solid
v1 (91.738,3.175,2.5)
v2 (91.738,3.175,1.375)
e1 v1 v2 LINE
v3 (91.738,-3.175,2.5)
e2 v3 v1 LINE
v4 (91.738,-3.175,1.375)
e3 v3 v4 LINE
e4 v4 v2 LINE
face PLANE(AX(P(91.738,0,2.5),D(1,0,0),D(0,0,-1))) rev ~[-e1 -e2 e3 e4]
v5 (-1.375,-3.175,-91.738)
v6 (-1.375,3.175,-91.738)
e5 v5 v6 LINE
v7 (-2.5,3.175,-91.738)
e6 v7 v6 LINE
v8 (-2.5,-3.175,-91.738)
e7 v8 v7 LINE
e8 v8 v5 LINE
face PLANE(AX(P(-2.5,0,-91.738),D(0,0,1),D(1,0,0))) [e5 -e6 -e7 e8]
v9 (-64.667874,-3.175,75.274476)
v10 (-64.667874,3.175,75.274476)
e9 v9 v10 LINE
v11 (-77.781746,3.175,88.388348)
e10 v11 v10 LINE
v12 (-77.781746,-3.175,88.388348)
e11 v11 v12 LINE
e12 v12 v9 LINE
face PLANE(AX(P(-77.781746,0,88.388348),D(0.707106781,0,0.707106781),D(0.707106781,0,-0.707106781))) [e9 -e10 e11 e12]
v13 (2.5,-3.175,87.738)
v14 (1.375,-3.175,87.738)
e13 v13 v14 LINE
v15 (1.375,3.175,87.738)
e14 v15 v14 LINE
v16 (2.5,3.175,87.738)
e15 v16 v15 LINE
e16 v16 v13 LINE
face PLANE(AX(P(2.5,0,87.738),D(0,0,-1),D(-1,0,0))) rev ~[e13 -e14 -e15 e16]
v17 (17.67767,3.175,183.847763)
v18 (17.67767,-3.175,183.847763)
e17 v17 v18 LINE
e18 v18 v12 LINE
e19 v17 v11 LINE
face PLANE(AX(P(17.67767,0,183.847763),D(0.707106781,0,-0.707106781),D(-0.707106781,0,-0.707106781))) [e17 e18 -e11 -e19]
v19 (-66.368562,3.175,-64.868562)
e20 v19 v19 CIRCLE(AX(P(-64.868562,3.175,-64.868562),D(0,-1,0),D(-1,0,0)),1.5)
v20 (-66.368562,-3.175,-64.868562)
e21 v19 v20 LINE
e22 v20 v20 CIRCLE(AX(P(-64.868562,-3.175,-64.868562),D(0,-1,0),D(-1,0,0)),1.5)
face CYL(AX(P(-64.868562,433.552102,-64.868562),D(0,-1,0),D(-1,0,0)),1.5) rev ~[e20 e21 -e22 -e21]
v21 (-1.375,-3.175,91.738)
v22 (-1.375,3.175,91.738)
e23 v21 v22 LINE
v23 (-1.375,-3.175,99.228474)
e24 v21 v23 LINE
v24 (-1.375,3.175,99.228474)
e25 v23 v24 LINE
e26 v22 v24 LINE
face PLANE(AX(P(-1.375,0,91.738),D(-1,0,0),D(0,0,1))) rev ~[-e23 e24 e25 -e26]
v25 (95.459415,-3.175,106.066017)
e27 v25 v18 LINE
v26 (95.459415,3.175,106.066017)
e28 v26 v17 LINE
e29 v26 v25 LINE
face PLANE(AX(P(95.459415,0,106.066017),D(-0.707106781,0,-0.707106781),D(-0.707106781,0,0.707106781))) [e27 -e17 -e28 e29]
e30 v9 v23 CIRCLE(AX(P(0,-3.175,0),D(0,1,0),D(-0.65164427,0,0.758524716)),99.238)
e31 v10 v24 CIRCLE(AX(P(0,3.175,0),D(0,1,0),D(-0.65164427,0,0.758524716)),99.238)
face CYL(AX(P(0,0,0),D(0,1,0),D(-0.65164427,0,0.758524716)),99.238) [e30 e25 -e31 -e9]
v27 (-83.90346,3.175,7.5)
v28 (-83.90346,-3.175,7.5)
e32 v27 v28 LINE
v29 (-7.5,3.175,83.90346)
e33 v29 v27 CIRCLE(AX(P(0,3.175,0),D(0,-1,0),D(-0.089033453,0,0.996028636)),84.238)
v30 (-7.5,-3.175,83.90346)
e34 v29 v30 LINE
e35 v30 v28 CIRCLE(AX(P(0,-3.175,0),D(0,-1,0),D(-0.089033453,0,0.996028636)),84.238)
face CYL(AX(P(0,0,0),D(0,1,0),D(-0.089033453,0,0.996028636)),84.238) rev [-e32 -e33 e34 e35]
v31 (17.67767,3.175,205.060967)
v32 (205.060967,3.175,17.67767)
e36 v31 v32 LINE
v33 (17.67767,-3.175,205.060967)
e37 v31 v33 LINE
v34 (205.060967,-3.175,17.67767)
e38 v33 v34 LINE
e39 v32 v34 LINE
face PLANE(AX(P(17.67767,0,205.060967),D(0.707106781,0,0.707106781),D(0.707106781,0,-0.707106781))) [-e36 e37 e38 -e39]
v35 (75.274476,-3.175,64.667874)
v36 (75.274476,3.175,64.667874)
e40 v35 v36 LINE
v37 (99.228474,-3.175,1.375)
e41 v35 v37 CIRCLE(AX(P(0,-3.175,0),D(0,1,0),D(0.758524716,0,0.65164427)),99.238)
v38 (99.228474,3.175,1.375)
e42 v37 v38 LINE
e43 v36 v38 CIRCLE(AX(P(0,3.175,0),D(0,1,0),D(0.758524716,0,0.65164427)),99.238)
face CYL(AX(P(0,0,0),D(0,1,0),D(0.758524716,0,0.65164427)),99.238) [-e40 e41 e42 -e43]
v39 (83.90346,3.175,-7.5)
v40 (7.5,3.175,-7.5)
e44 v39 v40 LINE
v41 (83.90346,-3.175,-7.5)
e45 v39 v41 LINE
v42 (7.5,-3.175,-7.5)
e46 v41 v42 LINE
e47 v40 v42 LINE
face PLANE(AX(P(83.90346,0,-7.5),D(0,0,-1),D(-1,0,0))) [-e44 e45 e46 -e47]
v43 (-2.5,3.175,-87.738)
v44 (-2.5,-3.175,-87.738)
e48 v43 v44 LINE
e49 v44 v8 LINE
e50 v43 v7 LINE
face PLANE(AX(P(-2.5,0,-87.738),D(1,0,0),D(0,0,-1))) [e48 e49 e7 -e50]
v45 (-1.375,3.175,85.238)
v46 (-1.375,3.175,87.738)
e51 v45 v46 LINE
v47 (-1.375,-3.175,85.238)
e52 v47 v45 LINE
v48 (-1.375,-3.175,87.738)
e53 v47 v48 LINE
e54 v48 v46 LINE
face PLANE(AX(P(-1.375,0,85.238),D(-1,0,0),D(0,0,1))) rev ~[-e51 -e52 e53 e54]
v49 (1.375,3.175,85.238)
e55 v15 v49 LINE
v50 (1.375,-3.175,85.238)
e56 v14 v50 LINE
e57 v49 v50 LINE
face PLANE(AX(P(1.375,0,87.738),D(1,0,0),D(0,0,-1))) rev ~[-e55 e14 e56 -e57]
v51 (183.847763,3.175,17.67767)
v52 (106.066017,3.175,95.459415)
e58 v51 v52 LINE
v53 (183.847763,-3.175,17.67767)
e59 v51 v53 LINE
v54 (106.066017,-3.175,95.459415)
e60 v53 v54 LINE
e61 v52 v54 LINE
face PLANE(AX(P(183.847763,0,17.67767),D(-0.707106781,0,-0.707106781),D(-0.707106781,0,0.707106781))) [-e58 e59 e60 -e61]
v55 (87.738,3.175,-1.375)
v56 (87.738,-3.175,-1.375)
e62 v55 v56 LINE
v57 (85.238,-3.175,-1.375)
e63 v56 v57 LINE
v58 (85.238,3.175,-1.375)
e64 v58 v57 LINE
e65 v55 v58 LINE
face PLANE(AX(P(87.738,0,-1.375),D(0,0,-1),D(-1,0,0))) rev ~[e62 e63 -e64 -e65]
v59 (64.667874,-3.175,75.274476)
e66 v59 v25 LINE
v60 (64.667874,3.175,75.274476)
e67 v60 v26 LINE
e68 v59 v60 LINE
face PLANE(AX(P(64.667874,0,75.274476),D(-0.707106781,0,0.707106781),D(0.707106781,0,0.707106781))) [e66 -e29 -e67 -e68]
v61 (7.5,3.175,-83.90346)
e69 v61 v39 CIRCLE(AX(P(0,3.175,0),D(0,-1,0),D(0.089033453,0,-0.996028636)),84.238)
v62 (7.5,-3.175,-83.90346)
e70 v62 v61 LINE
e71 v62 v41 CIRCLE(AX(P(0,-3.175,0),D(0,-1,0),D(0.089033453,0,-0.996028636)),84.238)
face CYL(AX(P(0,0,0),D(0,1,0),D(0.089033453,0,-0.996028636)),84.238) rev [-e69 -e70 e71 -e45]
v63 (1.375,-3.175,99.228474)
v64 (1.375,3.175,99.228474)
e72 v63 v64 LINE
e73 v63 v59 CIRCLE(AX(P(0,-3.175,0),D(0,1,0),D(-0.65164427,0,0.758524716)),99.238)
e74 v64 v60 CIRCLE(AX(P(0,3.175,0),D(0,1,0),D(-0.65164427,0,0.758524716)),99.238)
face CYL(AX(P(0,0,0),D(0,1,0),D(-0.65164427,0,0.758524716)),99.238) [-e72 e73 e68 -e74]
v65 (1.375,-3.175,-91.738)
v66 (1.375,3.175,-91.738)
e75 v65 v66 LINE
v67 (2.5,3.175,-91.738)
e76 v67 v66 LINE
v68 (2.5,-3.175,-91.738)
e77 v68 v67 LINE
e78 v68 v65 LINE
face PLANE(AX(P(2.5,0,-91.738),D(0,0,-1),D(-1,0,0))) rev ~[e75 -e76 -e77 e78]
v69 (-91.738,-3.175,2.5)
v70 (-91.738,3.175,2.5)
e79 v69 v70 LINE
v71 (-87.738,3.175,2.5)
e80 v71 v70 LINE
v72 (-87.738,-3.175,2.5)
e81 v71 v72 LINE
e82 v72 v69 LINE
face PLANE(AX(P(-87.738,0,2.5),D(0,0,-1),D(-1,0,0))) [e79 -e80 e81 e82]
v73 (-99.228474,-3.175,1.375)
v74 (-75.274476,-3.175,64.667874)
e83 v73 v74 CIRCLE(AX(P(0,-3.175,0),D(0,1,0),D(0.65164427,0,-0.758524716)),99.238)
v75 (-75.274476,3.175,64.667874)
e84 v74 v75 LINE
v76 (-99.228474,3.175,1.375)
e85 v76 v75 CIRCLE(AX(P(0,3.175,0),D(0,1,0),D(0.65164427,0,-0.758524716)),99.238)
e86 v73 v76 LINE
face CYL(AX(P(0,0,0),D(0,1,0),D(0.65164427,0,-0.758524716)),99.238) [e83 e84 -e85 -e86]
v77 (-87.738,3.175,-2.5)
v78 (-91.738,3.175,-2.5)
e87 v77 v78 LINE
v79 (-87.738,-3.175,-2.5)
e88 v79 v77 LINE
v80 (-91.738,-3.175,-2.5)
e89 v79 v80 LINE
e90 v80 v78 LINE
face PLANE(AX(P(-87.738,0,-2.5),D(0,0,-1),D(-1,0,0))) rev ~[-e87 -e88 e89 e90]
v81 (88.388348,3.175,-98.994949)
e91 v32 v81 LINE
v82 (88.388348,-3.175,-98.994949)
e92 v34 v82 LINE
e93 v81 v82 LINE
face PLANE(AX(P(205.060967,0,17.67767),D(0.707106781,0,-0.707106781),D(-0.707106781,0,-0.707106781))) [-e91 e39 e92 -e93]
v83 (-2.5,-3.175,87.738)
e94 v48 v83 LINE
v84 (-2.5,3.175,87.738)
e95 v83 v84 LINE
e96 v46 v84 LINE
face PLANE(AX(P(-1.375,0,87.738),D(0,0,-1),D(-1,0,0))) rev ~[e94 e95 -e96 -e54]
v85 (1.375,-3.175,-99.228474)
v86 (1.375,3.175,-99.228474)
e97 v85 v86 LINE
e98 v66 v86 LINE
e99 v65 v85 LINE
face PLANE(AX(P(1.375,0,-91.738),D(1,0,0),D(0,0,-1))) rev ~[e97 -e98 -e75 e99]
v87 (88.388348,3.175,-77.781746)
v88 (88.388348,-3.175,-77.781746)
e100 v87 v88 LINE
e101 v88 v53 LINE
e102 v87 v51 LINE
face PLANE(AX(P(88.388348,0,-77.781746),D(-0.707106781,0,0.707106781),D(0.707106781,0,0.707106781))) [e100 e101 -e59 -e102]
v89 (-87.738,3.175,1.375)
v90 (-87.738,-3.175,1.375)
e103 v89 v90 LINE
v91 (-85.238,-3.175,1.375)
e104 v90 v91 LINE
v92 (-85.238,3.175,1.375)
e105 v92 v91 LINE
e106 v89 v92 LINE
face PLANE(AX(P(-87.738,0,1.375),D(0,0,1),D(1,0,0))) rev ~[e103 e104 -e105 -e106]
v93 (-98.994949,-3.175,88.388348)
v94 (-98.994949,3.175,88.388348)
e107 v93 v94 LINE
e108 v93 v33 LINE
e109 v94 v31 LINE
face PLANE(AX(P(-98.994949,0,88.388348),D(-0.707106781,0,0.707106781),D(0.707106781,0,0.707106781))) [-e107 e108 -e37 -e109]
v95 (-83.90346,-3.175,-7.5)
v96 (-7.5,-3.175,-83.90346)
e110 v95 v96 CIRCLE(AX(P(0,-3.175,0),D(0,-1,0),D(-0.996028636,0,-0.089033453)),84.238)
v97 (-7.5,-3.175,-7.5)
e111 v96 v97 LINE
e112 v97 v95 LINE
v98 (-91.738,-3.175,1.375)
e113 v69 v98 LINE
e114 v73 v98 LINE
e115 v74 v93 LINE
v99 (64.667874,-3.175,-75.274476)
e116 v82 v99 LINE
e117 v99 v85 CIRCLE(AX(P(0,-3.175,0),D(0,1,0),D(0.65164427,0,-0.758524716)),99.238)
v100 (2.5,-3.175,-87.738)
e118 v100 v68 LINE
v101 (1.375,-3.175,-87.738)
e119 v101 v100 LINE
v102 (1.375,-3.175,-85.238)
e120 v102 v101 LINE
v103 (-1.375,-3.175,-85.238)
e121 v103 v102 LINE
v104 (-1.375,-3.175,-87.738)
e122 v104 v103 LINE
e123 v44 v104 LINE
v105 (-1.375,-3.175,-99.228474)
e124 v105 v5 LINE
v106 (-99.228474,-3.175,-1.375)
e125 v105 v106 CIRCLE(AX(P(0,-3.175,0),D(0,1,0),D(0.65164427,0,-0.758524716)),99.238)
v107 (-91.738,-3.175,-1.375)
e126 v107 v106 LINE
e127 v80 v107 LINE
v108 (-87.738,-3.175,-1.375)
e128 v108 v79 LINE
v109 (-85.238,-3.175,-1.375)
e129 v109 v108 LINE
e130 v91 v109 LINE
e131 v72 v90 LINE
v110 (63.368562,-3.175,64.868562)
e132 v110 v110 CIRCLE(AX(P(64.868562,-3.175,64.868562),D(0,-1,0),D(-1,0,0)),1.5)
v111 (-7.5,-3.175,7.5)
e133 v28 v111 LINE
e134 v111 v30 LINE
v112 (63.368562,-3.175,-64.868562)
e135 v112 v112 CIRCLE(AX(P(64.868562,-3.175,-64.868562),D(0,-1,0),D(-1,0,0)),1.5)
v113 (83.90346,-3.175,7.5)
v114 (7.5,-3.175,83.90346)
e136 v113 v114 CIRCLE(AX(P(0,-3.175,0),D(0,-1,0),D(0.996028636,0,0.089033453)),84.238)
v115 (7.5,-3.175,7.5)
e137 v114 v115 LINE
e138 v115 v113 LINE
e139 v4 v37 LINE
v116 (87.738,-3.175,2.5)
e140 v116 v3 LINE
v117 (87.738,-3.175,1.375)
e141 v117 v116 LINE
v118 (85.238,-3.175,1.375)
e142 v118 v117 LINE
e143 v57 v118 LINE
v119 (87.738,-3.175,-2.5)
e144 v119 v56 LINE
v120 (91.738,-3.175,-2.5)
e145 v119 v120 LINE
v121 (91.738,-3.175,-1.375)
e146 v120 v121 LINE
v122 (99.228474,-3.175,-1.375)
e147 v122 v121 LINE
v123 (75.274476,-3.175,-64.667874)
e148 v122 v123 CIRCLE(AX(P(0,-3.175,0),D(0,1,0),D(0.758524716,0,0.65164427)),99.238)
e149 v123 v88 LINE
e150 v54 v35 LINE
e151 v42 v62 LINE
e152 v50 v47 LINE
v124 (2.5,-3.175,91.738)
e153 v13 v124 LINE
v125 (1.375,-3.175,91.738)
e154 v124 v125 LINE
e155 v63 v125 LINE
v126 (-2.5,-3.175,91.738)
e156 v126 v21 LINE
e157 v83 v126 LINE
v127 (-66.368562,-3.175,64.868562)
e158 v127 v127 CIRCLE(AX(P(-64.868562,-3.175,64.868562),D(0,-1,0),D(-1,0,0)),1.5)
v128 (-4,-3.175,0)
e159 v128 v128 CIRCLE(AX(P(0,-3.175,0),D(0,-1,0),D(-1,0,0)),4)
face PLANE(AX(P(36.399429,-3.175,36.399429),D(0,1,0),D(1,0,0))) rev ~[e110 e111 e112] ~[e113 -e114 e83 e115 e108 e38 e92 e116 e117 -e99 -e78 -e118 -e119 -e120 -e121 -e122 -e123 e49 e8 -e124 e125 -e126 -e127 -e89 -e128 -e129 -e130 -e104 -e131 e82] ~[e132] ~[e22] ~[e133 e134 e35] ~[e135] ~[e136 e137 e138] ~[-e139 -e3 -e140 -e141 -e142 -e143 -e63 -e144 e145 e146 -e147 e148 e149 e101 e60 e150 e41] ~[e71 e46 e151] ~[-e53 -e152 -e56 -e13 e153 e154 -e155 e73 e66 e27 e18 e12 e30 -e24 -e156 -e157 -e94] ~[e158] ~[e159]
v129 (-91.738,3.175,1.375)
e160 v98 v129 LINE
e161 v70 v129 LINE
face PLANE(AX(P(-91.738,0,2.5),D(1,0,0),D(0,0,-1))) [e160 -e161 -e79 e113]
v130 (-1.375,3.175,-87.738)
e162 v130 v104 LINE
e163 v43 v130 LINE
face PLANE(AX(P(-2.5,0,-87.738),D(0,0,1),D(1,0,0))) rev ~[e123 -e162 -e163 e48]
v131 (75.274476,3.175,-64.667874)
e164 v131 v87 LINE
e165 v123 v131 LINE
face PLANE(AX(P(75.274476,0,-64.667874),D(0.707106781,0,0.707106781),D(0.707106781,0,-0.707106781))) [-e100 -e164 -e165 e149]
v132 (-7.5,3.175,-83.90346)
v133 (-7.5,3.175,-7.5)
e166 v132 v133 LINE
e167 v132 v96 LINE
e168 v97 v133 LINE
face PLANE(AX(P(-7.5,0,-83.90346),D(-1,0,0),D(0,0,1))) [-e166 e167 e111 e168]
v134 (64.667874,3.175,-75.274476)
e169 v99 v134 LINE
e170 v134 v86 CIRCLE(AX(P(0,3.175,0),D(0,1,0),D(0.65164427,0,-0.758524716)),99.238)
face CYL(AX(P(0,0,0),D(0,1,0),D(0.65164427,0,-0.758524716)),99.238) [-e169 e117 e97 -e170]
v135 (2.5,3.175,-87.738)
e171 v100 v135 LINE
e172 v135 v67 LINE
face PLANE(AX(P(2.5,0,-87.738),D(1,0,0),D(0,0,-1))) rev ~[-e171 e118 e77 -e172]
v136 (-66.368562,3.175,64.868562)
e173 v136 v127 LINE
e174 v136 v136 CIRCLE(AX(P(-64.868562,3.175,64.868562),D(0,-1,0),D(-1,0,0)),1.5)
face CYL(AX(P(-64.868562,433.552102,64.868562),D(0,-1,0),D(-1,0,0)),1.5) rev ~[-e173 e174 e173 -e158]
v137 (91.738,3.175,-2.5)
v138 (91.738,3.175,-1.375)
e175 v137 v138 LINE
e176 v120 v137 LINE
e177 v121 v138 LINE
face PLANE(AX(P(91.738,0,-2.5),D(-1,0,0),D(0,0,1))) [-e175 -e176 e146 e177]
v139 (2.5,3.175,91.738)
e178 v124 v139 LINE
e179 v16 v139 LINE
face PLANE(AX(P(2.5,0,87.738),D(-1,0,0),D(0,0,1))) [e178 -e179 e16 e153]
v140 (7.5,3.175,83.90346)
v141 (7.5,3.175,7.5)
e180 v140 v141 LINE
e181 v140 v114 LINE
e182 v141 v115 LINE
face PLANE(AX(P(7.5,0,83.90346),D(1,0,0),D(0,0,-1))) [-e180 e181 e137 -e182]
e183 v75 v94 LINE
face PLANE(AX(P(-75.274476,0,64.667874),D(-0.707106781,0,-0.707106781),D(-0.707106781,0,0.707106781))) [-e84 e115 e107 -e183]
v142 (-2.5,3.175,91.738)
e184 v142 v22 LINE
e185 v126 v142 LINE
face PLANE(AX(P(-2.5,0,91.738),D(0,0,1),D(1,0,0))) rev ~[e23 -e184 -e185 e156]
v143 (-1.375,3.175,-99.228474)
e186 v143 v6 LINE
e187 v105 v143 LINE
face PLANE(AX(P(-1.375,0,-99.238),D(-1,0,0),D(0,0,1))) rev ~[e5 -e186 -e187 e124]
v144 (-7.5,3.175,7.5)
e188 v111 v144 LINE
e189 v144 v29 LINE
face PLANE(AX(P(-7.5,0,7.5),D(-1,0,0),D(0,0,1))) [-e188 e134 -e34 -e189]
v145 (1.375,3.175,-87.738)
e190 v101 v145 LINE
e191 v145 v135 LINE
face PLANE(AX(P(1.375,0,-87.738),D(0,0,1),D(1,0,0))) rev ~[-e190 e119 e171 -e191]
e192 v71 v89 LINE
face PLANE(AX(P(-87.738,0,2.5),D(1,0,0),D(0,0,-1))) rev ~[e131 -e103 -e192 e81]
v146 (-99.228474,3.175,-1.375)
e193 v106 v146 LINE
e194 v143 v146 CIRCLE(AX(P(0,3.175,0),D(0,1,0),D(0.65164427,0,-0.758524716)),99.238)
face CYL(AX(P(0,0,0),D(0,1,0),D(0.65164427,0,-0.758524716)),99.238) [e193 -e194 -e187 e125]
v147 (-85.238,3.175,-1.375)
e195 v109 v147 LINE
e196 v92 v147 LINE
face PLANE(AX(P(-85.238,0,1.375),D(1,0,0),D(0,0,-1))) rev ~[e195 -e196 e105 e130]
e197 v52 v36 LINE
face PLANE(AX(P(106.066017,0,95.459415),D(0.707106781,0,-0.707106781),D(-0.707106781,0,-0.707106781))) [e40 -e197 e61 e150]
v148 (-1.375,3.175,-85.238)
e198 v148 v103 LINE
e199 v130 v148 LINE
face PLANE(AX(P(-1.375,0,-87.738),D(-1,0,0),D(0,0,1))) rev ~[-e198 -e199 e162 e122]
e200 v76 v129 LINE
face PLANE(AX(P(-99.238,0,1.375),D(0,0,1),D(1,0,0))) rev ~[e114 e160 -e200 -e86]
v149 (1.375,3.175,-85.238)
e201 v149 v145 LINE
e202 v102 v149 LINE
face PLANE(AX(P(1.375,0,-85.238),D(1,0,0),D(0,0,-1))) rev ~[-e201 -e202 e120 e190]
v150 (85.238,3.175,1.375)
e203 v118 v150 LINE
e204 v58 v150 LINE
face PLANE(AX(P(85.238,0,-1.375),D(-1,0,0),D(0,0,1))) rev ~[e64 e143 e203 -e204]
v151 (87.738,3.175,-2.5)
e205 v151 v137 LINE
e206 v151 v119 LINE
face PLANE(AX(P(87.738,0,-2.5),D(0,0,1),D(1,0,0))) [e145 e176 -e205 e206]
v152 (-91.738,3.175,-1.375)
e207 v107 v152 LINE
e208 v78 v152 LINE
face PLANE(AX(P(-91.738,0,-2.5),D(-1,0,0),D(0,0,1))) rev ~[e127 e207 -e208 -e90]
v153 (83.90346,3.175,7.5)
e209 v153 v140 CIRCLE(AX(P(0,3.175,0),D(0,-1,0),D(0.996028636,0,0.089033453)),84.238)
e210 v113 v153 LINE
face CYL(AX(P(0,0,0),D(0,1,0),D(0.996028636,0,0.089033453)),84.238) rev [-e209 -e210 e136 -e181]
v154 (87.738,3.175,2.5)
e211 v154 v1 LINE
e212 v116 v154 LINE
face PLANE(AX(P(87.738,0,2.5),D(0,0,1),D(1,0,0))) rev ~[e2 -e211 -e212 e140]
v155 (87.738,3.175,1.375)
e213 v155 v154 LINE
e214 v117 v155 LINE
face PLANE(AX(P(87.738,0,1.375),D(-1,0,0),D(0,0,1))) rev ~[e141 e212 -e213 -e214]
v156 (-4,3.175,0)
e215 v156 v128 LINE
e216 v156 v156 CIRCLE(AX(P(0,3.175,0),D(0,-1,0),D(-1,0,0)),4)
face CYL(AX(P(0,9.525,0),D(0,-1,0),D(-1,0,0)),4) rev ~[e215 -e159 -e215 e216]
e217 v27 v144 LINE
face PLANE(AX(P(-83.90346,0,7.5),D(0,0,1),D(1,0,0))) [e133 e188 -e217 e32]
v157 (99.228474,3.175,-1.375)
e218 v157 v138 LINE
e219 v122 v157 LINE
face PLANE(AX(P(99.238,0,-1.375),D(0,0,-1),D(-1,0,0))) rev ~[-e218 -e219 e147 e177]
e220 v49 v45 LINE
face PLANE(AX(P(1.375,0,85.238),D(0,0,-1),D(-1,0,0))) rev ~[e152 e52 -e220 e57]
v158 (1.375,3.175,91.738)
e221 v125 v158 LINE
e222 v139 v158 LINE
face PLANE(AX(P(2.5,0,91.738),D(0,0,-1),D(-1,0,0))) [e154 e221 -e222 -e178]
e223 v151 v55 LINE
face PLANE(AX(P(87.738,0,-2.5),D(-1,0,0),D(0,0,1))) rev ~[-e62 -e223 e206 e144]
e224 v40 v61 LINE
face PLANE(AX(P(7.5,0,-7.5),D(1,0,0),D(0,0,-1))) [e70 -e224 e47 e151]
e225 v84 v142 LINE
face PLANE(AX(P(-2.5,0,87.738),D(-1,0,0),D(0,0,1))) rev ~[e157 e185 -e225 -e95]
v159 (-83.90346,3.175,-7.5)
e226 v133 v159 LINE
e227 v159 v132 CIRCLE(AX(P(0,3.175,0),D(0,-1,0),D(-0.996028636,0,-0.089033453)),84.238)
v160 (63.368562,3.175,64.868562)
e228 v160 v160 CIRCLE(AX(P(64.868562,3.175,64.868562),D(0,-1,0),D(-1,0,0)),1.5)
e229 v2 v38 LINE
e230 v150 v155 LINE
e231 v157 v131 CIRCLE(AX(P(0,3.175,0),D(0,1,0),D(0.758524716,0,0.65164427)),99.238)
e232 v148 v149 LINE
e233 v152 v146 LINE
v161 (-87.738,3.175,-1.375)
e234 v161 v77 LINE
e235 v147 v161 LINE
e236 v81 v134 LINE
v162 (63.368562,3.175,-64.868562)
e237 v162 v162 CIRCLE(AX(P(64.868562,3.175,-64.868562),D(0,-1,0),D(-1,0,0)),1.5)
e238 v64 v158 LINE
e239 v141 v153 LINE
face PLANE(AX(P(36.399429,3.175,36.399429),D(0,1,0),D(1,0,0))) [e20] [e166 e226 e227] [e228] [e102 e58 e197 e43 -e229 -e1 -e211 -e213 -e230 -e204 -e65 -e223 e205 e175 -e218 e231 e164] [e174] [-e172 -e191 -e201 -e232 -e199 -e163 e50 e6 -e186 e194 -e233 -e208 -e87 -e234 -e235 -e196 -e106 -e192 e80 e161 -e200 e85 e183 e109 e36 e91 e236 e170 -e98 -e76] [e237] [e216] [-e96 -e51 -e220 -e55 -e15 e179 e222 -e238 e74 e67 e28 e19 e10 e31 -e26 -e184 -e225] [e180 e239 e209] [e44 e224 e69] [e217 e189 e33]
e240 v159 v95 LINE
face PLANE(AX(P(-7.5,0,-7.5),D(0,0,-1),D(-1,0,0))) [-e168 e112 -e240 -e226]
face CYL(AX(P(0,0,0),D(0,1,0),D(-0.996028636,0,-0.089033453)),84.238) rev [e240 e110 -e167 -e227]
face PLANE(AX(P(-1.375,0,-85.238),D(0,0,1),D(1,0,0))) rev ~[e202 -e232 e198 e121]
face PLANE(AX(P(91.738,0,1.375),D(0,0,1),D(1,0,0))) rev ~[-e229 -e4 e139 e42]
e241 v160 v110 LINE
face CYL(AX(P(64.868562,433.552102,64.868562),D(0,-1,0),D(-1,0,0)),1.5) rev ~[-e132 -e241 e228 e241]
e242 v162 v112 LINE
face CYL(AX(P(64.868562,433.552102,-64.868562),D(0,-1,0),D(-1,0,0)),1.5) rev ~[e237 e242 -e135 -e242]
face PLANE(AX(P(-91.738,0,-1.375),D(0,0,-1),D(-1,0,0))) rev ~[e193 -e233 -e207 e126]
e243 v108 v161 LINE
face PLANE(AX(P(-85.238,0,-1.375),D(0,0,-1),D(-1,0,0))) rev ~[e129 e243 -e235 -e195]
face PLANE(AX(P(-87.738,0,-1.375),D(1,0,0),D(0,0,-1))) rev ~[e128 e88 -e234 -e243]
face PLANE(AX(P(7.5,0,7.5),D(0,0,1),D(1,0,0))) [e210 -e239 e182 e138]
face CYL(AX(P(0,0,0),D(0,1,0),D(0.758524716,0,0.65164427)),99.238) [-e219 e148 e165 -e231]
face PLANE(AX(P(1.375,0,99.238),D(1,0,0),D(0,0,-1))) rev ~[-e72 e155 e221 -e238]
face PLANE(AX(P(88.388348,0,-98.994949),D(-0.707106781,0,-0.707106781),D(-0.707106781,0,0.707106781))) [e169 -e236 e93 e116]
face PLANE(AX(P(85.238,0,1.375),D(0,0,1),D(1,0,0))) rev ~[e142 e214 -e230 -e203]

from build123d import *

# Parameters (mm, degrees)
BOSS_EXTRUDE1_DEPTH          = 3.175
SKETCH2_W                    = 2.75
SKETCH2_H                    = 2.5
SKETCH2_H_2                  = 4
SKETCH2_W_2                  = 1.125
SKETCH2_H_3                  = 7.5
CUT_EXTRUDE1_DEPTH           = 291.017379867
CIRPATTERN1_COUNT            = 4
F_3_0_3_DIAMETER_HOLE1_D     = 3
F_8_0_8_DIAMETER_HOLE1_D     = 8
F_8_0_8_DIAMETER_HOLE1_DEPTH = 6.35


with BuildPart() as part:
    # Sketch1 → Boss-Extrude1 (new, symmetric)
    with BuildSketch(Plane(origin=(0, 0, 0), x_dir=(1, 0, 0), z_dir=(0, 1, 0))):
        with BuildLine():
            Line((88.388347648, 98.994949366), (64.667874078, 75.274475795))
            ThreePointArc((64.667874078, 75.274475795), (-70.171862751, 70.171862751), (-75.274475795, -64.667874078))
            Line((-75.274475795, -64.667874078), (-98.994949366, -88.388347648))
            Line((-98.994949366, -88.388347648), (17.67766953, -205.060966544))
            Line((17.67766953, -205.060966544), (205.060966544, -17.67766953))
            Line((205.060966544, -17.67766953), (88.388347648, 98.994949366))
        make_face()
        with BuildLine():
            ThreePointArc((-64.667874078, -75.274475795), (0, -99.238), (64.667874078, -75.274475795))
            Line((64.667874078, -75.274475795), (95.45941546, -106.066017178))
            Line((95.45941546, -106.066017178), (17.67766953, -183.847763109))
            Line((17.67766953, -183.847763109), (-77.781745931, -88.388347648))
            Line((-77.781745931, -88.388347648), (-64.667874078, -75.274475795))
        make_face(mode=Mode.SUBTRACT)
        with BuildLine():
            ThreePointArc((75.274475795, -64.667874078), (99.238, 0), (75.274475795, 64.667874078))
            Line((75.274475795, 64.667874078), (88.388347648, 77.781745931))
            Line((88.388347648, 77.781745931), (183.847763109, -17.67766953))
            Line((183.847763109, -17.67766953), (106.066017178, -95.45941546))
            Line((106.066017178, -95.45941546), (75.274475795, -64.667874078))
        make_face(mode=Mode.SUBTRACT)
        with BuildLine():
            Line((-7.5, -7.5), (-7.5, -83.903460262))
            ThreePointArc((-7.5, -83.903460262), (-59.565261034, -59.565261034), (-83.903460262, -7.5))
            Line((-83.903460262, -7.5), (-7.5, -7.5))
        make_face(mode=Mode.SUBTRACT)
        with BuildLine():
            ThreePointArc((83.903460262, -7.5), (59.565261034, -59.565261034), (7.5, -83.903460262))
            Line((7.5, -83.903460262), (7.5, -7.5))
            Line((7.5, -7.5), (83.903460262, -7.5))
        make_face(mode=Mode.SUBTRACT)
        with BuildLine():
            Line((-7.5, 7.5), (-83.903460262, 7.5))
            ThreePointArc((-83.903460262, 7.5), (-59.565261034, 59.565261034), (-7.5, 83.903460262))
            Line((-7.5, 83.903460262), (-7.5, 7.5))
        make_face(mode=Mode.SUBTRACT)
        with BuildLine():
            ThreePointArc((7.5, 83.903460262), (59.565261034, 59.565261034), (83.903460262, 7.5))
            Line((83.903460262, 7.5), (7.5, 7.5))
            Line((7.5, 7.5), (7.5, 83.903460262))
        make_face(mode=Mode.SUBTRACT)
    extrude(amount=BOSS_EXTRUDE1_DEPTH, both=True)

    # Sketch2 → Cut-Extrude1 (cut, symmetric)
    with BuildSketch(Plane(origin=(0, 0, 0), x_dir=(1, 0, 0), z_dir=(0, 1, 0))):
        with Locations((0, 86.488)):
            Rectangle(SKETCH2_W, SKETCH2_H)
        with Locations((0, 89.738)):
            Rectangle(SKETCH2_W, SKETCH2_H_2)
        with Locations((1.9375, 89.738)):
            Rectangle(SKETCH2_W_2, SKETCH2_H_2)
        with Locations((0, 95.488)):
            Rectangle(SKETCH2_W, SKETCH2_H_3)
        with Locations((-1.9375, 89.738)):
            Rectangle(SKETCH2_W_2, SKETCH2_H_2)
    cut_extrude1 = extrude(amount=CUT_EXTRUDE1_DEPTH, both=True, mode=Mode.SUBTRACT)

    # CirPattern1: Cut-Extrude1 ×4 about axis
    cirpattern1_axis = Axis((0, 0, 0), (0, 1, 0))
    for i in range(1, CIRPATTERN1_COUNT):
        add(cut_extrude1.rotate(cirpattern1_axis, i * 360 / CIRPATTERN1_COUNT), mode=Mode.SUBTRACT)

    # Ø3.0 (3) Diameter Hole1 (through all)
    with Locations(Plane(origin=(0, 3.175, 0), x_dir=(1, 0, 0), z_dir=(0, 1, 0))):
        with Locations((-64.868561892, -64.868561892), (0, 0), (-64.868561892, 64.868561892), (64.868561892, 64.868561892), (64.868561892, -64.868561892)):
            Hole(F_3_0_3_DIAMETER_HOLE1_D / 2)

    # Ø8.0 (8) Diameter Hole1
    with Locations(Plane(origin=(0, 3.175, 0), x_dir=(1, 0, 0), z_dir=(0, 1, 0))):
        with Locations((0, 0)):
            Hole(F_8_0_8_DIAMETER_HOLE1_D / 2, depth=F_8_0_8_DIAMETER_HOLE1_DEPTH)


solid = part.part
